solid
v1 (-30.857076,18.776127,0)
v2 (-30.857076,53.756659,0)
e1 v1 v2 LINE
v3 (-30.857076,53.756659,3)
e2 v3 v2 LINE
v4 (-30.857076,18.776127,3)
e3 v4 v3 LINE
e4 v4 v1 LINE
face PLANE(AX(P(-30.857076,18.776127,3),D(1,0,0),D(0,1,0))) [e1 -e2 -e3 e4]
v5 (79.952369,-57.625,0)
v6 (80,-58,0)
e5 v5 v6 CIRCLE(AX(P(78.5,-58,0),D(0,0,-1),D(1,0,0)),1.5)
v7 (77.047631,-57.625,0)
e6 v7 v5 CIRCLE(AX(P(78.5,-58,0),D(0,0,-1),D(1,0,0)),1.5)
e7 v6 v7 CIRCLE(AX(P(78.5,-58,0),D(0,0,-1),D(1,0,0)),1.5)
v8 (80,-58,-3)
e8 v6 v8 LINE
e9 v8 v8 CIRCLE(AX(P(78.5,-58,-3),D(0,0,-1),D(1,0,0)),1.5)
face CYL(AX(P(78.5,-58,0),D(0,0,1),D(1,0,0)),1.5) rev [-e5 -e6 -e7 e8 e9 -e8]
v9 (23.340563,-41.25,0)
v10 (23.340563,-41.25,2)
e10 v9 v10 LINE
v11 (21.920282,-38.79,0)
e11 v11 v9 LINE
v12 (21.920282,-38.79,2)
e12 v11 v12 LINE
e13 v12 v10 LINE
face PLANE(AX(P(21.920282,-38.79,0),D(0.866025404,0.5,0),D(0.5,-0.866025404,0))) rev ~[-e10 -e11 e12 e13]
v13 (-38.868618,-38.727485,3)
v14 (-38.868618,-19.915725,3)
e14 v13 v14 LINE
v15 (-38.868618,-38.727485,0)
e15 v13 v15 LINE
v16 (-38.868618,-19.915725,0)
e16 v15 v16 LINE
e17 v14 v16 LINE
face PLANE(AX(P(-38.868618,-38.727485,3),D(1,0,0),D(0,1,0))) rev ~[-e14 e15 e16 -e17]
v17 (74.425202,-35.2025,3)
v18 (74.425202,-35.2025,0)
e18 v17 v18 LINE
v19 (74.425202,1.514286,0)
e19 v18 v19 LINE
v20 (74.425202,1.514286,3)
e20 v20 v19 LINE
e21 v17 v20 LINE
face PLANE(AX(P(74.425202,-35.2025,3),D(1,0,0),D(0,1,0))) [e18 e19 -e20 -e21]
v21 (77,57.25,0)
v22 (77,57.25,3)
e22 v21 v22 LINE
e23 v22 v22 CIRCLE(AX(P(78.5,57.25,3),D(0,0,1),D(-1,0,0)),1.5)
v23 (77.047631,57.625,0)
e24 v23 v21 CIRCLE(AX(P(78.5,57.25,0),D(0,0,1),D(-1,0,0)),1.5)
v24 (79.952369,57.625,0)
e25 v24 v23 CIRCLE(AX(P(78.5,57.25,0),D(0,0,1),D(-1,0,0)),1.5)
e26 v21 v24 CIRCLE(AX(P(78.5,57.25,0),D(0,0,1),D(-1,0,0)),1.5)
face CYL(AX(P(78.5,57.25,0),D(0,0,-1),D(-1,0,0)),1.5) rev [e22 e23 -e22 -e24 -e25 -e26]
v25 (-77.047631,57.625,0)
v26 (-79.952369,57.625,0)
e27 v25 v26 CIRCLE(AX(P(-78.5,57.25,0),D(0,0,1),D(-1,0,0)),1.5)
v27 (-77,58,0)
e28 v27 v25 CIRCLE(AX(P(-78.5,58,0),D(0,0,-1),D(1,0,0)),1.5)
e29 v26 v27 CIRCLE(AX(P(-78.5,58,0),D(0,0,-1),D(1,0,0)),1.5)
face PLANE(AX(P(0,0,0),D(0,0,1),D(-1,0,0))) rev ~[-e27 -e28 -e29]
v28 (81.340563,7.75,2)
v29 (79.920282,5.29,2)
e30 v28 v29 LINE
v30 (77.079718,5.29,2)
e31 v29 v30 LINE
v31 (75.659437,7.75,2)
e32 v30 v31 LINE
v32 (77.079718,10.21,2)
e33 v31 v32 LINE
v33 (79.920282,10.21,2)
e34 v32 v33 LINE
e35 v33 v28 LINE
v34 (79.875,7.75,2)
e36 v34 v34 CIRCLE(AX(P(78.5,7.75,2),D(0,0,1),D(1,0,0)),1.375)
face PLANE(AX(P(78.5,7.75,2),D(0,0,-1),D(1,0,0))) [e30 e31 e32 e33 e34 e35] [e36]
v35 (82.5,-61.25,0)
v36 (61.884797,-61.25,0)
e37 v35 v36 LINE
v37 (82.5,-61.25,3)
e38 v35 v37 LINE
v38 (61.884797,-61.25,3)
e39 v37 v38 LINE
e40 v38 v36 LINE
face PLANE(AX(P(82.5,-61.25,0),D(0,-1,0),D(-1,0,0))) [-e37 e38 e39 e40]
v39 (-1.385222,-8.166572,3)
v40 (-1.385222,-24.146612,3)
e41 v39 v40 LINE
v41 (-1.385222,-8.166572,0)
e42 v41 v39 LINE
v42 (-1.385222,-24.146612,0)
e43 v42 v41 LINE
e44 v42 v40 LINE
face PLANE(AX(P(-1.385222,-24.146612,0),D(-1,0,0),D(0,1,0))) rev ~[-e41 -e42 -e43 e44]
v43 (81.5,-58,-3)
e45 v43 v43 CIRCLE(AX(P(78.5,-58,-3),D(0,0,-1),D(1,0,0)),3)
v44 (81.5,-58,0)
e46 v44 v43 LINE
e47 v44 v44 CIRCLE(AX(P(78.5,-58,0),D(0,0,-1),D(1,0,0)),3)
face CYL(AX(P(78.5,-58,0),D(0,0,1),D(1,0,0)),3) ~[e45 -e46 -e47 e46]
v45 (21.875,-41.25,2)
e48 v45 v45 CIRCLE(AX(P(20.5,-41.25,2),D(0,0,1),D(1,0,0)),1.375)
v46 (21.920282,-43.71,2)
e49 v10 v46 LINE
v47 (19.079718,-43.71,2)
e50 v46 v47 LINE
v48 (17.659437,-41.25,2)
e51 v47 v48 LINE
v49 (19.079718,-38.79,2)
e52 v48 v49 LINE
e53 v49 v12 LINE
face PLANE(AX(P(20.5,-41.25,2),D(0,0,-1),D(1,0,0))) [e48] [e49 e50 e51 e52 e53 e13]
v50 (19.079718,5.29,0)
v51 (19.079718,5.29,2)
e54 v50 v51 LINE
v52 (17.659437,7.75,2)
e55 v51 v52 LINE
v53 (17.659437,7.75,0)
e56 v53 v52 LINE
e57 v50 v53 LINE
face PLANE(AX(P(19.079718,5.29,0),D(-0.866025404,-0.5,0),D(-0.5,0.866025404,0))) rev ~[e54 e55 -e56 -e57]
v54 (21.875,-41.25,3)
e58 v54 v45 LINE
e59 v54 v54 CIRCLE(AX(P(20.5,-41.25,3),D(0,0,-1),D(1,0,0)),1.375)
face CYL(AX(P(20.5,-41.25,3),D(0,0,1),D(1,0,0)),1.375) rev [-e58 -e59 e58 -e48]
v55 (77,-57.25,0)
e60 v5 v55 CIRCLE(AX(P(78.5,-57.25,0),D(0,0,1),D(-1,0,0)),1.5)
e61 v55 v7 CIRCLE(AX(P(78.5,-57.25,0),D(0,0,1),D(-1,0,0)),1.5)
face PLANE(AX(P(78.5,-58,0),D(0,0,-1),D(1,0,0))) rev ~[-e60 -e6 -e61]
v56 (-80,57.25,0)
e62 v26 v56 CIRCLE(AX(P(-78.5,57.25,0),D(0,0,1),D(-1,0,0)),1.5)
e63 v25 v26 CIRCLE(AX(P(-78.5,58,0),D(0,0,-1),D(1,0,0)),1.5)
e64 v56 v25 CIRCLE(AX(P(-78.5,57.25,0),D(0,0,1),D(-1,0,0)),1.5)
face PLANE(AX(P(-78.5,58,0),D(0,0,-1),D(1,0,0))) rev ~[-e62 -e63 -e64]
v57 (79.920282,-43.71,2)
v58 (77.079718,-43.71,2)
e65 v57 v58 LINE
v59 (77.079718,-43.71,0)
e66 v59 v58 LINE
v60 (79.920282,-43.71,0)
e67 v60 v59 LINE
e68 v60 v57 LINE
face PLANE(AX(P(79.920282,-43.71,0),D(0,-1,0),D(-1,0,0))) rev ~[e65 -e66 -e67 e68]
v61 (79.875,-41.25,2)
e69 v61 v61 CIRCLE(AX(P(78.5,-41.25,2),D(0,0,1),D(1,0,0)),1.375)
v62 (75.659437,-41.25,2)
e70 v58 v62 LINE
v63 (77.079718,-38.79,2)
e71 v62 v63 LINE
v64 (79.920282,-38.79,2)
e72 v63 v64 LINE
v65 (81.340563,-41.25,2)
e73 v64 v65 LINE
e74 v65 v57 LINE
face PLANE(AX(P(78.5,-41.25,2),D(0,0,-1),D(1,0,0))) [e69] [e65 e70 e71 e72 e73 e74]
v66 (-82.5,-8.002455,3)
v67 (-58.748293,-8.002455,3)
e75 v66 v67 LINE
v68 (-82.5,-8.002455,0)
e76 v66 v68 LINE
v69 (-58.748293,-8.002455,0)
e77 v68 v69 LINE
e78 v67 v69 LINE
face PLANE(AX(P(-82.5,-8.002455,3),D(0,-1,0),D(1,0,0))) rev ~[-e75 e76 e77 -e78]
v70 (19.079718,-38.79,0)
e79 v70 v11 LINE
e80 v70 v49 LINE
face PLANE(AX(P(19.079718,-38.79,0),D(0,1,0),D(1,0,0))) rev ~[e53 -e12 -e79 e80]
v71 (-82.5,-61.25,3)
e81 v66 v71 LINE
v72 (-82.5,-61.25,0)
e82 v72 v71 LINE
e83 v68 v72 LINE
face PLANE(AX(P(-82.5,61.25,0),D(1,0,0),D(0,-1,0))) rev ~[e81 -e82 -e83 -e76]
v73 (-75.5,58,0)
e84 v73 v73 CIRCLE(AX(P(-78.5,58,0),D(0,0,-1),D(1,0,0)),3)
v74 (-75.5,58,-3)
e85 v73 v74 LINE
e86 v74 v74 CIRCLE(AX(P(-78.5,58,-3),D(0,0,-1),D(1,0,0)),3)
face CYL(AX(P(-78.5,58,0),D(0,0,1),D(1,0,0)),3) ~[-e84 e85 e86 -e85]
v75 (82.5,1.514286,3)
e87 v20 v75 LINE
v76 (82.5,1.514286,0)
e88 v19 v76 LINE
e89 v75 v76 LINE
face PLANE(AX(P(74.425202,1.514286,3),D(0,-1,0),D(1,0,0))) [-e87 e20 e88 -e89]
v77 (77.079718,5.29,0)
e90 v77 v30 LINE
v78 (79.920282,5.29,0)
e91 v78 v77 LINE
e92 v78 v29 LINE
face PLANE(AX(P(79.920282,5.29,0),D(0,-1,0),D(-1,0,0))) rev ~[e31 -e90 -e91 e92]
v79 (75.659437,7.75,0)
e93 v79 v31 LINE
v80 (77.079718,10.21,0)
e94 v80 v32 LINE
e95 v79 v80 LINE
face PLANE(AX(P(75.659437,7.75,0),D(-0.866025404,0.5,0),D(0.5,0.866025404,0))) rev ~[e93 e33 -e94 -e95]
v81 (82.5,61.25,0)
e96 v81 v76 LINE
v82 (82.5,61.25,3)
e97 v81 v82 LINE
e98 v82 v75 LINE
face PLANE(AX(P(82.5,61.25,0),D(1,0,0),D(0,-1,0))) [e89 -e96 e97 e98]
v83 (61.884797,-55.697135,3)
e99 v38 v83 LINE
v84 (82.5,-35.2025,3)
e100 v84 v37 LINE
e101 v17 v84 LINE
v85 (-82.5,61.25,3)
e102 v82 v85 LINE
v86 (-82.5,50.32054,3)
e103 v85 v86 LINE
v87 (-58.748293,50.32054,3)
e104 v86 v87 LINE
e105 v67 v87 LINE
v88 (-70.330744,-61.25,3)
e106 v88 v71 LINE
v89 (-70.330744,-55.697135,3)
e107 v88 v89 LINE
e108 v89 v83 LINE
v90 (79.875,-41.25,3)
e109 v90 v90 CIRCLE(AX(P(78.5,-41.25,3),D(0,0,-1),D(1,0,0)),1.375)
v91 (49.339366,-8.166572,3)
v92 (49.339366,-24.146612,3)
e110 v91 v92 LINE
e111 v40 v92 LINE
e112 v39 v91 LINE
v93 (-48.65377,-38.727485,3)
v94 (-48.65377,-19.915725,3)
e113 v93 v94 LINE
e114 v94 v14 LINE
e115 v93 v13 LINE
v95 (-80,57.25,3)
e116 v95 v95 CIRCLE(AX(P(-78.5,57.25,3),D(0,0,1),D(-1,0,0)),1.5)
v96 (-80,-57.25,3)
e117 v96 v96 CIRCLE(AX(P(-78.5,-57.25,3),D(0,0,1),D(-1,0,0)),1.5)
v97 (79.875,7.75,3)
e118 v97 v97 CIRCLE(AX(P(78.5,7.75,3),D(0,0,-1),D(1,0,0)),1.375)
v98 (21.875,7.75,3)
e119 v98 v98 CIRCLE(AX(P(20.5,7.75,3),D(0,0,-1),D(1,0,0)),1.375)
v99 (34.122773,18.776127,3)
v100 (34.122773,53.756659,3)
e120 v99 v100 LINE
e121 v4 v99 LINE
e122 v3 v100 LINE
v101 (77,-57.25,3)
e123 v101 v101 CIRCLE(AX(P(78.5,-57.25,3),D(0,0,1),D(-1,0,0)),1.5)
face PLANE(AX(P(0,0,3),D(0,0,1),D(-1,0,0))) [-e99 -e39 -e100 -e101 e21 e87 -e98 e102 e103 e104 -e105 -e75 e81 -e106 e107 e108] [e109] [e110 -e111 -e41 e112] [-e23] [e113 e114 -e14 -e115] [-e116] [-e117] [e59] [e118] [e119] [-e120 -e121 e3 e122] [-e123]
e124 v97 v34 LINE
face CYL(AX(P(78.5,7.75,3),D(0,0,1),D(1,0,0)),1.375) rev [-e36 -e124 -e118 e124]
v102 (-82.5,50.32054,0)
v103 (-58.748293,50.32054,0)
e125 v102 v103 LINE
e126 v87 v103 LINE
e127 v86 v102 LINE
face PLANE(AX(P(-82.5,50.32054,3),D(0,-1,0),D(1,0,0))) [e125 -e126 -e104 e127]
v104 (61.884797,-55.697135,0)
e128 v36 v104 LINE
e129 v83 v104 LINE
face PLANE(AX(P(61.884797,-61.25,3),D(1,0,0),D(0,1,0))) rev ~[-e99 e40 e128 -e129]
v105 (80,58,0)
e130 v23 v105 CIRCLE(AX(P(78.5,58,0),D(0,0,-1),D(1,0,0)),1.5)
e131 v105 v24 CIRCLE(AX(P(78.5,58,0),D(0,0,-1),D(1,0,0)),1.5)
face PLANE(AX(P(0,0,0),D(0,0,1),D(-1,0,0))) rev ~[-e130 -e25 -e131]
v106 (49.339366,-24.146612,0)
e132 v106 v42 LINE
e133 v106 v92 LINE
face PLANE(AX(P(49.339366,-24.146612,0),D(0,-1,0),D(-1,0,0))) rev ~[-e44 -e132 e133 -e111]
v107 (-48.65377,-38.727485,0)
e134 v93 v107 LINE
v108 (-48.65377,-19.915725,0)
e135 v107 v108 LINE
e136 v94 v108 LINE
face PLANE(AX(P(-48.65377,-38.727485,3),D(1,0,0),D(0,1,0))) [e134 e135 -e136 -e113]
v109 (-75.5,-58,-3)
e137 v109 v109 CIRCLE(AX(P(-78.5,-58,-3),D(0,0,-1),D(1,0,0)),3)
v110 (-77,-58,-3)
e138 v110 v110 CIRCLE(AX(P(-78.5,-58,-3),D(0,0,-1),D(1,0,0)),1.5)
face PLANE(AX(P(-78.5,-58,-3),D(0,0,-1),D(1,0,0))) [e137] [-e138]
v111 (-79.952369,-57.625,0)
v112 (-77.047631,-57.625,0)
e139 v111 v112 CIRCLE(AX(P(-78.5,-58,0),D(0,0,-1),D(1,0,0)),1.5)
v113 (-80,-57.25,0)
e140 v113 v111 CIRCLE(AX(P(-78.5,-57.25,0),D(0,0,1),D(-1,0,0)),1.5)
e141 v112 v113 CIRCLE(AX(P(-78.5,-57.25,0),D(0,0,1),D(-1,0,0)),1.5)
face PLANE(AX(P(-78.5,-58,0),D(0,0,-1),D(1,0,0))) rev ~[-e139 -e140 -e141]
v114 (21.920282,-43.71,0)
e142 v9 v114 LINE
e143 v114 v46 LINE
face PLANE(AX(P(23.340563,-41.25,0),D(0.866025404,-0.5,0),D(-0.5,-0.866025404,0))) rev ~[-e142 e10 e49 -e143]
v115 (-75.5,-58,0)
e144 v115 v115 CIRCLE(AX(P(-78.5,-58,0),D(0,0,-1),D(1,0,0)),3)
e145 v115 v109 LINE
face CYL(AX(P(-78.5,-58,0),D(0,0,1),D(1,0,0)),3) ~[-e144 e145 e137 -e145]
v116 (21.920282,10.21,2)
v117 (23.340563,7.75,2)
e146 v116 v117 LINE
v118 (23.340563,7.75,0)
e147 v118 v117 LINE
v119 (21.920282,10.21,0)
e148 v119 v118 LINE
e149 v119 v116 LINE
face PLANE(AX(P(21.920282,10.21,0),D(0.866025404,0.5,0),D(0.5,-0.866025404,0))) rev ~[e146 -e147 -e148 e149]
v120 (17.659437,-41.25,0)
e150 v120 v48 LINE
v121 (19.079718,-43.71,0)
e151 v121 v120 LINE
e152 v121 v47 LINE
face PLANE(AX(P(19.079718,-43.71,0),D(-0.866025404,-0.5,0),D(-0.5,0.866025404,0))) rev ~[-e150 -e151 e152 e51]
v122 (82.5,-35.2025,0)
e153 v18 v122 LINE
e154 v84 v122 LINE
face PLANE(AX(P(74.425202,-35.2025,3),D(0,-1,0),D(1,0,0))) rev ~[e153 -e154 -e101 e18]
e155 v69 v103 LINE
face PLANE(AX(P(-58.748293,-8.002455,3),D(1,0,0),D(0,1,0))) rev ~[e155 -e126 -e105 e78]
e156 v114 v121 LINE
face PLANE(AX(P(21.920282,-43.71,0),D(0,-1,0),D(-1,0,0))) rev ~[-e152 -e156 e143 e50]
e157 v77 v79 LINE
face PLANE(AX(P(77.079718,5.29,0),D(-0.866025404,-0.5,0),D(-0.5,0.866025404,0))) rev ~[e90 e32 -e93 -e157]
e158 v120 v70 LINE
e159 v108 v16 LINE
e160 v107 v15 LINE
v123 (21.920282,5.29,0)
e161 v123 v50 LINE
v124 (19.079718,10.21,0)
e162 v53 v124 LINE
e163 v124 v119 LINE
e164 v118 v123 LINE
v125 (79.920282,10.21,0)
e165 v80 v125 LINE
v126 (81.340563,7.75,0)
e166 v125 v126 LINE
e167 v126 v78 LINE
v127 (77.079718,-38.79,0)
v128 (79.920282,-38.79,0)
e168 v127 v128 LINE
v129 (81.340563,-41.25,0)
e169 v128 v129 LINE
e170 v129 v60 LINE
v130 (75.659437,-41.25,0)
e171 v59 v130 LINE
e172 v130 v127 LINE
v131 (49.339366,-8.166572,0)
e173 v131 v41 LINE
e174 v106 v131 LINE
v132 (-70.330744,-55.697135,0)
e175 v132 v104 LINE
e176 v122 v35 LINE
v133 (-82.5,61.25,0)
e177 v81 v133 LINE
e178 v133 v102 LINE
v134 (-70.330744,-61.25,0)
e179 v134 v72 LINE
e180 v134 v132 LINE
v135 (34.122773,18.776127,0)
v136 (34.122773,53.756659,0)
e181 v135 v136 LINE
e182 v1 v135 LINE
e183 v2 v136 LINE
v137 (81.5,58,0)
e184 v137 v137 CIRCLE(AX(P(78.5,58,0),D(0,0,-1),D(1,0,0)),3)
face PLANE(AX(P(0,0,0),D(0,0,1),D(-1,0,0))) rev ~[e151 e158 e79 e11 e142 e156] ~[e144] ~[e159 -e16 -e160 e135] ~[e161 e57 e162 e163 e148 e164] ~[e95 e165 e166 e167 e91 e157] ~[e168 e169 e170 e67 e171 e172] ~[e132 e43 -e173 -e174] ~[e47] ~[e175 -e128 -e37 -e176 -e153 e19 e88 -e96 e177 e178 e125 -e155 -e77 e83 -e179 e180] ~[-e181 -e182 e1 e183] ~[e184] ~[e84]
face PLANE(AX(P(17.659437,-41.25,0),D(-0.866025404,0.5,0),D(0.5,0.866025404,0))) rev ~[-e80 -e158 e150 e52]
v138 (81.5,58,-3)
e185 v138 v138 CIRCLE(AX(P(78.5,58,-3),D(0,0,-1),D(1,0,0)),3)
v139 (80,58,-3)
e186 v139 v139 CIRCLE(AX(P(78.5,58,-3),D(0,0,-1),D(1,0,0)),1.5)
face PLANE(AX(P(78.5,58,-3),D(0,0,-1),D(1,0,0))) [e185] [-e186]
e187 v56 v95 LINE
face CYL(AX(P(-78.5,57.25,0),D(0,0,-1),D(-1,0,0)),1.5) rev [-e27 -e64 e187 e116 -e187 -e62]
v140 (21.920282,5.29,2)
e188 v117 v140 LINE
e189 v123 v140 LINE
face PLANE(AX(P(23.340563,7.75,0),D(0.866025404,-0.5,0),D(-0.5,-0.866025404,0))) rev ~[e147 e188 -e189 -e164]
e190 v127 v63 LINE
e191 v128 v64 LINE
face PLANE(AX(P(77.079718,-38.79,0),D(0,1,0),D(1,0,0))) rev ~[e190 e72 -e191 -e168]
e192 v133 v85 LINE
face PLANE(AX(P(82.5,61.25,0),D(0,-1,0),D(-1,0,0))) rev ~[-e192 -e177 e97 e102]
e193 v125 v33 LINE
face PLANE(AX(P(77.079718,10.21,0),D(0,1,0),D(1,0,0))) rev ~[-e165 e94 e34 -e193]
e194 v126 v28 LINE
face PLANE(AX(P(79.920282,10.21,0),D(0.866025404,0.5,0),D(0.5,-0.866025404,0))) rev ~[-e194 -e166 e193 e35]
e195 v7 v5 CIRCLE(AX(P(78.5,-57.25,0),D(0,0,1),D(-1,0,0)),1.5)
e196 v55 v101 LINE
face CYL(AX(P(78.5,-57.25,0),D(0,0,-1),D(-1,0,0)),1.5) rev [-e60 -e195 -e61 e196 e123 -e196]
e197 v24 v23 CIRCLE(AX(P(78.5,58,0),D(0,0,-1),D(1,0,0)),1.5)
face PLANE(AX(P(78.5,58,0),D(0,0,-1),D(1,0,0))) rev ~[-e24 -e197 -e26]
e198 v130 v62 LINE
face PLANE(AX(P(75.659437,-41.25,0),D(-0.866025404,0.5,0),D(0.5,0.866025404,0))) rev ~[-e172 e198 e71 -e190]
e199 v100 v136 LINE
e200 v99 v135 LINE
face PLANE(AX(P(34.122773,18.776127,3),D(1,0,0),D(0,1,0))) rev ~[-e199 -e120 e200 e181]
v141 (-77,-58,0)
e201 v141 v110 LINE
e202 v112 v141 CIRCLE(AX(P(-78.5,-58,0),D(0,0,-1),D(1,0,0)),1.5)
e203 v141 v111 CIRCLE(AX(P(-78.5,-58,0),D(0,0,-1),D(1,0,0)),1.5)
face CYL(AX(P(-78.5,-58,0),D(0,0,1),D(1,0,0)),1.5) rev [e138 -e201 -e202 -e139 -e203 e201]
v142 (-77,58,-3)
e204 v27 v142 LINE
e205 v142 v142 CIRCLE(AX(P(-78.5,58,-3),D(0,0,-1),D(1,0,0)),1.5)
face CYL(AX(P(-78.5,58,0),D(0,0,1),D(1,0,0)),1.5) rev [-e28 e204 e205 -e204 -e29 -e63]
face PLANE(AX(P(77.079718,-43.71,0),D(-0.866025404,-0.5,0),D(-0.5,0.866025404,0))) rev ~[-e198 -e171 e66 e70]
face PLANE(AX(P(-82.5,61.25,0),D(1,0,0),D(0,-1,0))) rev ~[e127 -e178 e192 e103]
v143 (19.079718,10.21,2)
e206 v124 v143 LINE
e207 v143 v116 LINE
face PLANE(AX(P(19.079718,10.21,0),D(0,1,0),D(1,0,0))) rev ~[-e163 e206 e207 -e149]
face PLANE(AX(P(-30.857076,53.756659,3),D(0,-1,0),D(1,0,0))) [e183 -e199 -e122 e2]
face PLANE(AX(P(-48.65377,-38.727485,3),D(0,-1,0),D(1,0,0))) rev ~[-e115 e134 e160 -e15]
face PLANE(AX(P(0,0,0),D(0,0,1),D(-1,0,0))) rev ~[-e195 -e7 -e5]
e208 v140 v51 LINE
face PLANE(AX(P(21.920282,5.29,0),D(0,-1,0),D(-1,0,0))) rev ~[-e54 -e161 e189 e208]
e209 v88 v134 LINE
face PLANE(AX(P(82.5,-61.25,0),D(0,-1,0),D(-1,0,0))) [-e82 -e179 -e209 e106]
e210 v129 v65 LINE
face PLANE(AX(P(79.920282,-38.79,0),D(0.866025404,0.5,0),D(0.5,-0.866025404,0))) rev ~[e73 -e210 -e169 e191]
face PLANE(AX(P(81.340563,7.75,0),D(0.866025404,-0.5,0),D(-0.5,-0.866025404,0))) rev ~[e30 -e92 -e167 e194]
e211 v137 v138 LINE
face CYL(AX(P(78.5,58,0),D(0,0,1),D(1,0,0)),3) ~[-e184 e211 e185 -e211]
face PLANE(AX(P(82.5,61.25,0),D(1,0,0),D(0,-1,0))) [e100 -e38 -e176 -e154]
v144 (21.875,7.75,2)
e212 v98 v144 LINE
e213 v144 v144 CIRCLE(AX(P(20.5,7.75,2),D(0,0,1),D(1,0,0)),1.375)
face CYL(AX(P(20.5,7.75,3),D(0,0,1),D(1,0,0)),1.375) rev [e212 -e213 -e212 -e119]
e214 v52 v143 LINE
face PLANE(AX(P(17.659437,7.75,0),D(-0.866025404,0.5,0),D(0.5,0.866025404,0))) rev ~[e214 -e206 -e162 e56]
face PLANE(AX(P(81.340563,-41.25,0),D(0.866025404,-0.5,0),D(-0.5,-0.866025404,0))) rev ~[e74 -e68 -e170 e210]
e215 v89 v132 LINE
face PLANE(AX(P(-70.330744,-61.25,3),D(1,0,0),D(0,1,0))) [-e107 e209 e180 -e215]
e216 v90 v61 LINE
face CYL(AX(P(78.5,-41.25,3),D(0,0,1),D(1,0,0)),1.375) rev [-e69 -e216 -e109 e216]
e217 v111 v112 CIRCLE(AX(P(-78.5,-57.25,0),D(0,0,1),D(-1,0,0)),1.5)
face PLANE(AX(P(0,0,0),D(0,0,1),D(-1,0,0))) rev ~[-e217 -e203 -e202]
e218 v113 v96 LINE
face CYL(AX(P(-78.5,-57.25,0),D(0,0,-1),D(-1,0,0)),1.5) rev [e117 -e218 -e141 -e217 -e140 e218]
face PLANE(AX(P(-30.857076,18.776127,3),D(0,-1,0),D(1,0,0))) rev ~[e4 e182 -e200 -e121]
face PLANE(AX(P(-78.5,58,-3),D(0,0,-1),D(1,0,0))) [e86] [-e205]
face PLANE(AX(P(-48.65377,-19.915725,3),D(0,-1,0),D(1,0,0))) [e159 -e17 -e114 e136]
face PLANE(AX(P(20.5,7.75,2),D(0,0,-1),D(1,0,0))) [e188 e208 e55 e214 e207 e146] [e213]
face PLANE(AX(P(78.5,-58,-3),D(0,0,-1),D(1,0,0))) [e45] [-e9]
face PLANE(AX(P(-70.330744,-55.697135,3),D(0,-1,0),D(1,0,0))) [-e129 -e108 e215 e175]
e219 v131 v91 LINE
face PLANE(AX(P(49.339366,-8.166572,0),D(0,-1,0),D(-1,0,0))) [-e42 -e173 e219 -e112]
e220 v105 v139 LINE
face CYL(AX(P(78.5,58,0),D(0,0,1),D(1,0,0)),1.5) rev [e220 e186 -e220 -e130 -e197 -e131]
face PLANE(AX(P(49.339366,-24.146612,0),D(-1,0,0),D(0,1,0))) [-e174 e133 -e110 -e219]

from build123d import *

# Parameters (mm, degrees)
CROQUIS9_W              = 165
CROQUIS9_H              = 122.5
CROQUIS9_R              = 1.5
SALIENTE_EXTRUIR7_DEPTH = 3
CROQUIS10_R             = 3
CROQUIS10_R_2           = 1.5
SALIENTE_EXTRUIR4_DEPTH = 3
CROQUIS13_R             = 1.375
CORTAR_EXTRUIR6_DEPTH   = 7
CORTAR_EXTRUIR9_DEPTH   = 2
CROQUIS19_W             = 23.751706854
CROQUIS19_H             = 58.322995046
CORTAR_EXTRUIR11_DEPTH  = 7
CROQUIS20_W             = 8.074798139
CROQUIS20_H             = 36.716786424
CORTAR_EXTRUIR12_DEPTH  = 7
CROQUIS21_W             = 132.215541909
CROQUIS21_H             = 5.552865293
CORTAR_EXTRUIR13_DEPTH  = 7
CROQUIS22_W             = 64.97984938
CROQUIS22_H             = 34.980531845
CORTAR_EXTRUIR14_DEPTH  = 10
CROQUIS23_W             = 9.785151637
CROQUIS23_H             = 18.811760375
CORTAR_EXTRUIR15_DEPTH  = 7
CROQUIS24_W             = 50.724588702
CROQUIS24_H             = 15.98003992
CORTAR_EXTRUIR16_DEPTH  = 10


with BuildPart() as part:
    # Croquis9 → Saliente-Extruir7 (new body)
    with BuildSketch(Plane(origin=(0, -39.711212197, 0), x_dir=(-1, 0, 0), z_dir=(0, 0, 1))):
        with Locations((0, -39.711212197)):
            Rectangle(CROQUIS9_W, CROQUIS9_H)
        with Locations((-78.5, 17.538787803)):
            Circle(CROQUIS9_R, mode=Mode.SUBTRACT)
        with Locations((78.5, 17.538787803)):
            Circle(CROQUIS9_R, mode=Mode.SUBTRACT)
        with Locations((-78.5, -96.961212197)):
            Circle(CROQUIS9_R, mode=Mode.SUBTRACT)
        with Locations((78.5, -96.961212197)):
            Circle(CROQUIS9_R, mode=Mode.SUBTRACT)
    extrude(amount=SALIENTE_EXTRUIR7_DEPTH)

    # Croquis10 → Saliente-Extruir4 (add)
    with BuildSketch(Plane(origin=(0, -39.711212197, 0), x_dir=(1, 0, 0), z_dir=(0, 0, -1))):
        with Locations((-78.5, 18.288787803)):
            Circle(CROQUIS10_R)
        with Locations((-78.5, 18.288787803)):
            Circle(CROQUIS10_R_2, mode=Mode.SUBTRACT)
        with Locations((78.5, 18.288787803)):
            Circle(CROQUIS10_R)
        with Locations((78.5, 18.288787803)):
            Circle(CROQUIS10_R_2, mode=Mode.SUBTRACT)
        with Locations((78.5, -97.711212197)):
            Circle(CROQUIS10_R)
        with Locations((78.5, -97.711212197)):
            Circle(CROQUIS10_R_2, mode=Mode.SUBTRACT)
        with Locations((-78.5, -97.711212197)):
            Circle(CROQUIS10_R)
        with Locations((-78.5, -97.711212197)):
            Circle(CROQUIS10_R_2, mode=Mode.SUBTRACT)
    extrude(amount=SALIENTE_EXTRUIR4_DEPTH)

    # Croquis13 → Cortar-Extruir6 (cut, through all)
    with BuildSketch(Plane(origin=(0, -58.652466741, 3), x_dir=(1, 0, 0), z_dir=(0, 0, -1))):
        with Locations((20.5, -17.402466741)):
            Circle(CROQUIS13_R)
        with Locations((78.5, -17.402466741)):
            Circle(CROQUIS13_R)
        with Locations((20.5, -66.402466741)):
            Circle(CROQUIS13_R)
        with Locations((78.5, -66.402466741)):
            Circle(CROQUIS13_R)
    extrude(amount=CORTAR_EXTRUIR6_DEPTH, mode=Mode.SUBTRACT)

    # Croquis17 → Cortar-Extruir9 (cut)
    with BuildSketch(Plane(origin=(0, -39.711212197, 0), x_dir=(1, 0, 0), z_dir=(0, 0, -1))):
        Polygon((23.340563324, 1.538787803), (21.920281662, 3.998787803), (19.079718338, 3.998787803), (17.659436676, 1.538787803), (19.079718338, -0.921212197), (21.920281662, -0.921212197), align=None)
        Polygon((81.340563324, 1.538787803), (79.920281662, 3.998787803), (77.079718338, 3.998787803), (75.659436676, 1.538787803), (77.079718338, -0.921212197), (79.920281662, -0.921212197), align=None)
        Polygon((81.340563324, -47.461212197), (79.920281662, -45.001212197), (77.079718338, -45.001212197), (75.659436676, -47.461212197), (77.079718338, -49.921212197), (79.920281662, -49.921212197), align=None)
        Polygon((23.340563324, -47.461212197), (21.920281662, -45.001212197), (19.079718338, -45.001212197), (17.659436676, -47.461212197), (19.079718338, -49.921212197), (21.920281662, -49.921212197), align=None)
    extrude(amount=-CORTAR_EXTRUIR9_DEPTH, mode=Mode.SUBTRACT)

    # Croquis19 → Cortar-Extruir11 (cut, through all)
    with BuildSketch(Plane.XY.offset(3)):
        with Locations((-70.624146573, 21.159042343)):
            Rectangle(CROQUIS19_W, CROQUIS19_H)
    extrude(amount=-CORTAR_EXTRUIR11_DEPTH, mode=Mode.SUBTRACT)

    # Croquis20 → Cortar-Extruir12 (cut, through all)
    with BuildSketch(Plane.XY.offset(3)):
        with Locations((78.462600931, -16.844106748)):
            Rectangle(CROQUIS20_W, CROQUIS20_H)
    extrude(amount=-CORTAR_EXTRUIR12_DEPTH, mode=Mode.SUBTRACT)

    # Croquis21 → Cortar-Extruir13 (cut, through all)
    with BuildSketch(Plane.XY.offset(3)):
        with Locations((-4.222973471, -58.473567354)):
            Rectangle(CROQUIS21_W, CROQUIS21_H)
    extrude(amount=-CORTAR_EXTRUIR13_DEPTH, mode=Mode.SUBTRACT)

    # Croquis22 → Cortar-Extruir14 (cut)
    with BuildSketch(Plane.XY.offset(3)):
        with Locations((1.632848722, 36.266393101)):
            Rectangle(CROQUIS22_W, CROQUIS22_H)
    extrude(amount=-CORTAR_EXTRUIR14_DEPTH, mode=Mode.SUBTRACT)

    # Croquis23 → Cortar-Extruir15 (cut, through all)
    with BuildSketch(Plane.XY.offset(3)):
        with Locations((-43.761194105, -29.321605041)):
            Rectangle(CROQUIS23_W, CROQUIS23_H)
    extrude(amount=-CORTAR_EXTRUIR15_DEPTH, mode=Mode.SUBTRACT)

    # Croquis24 → Cortar-Extruir16 (cut)
    with BuildSketch(Plane(origin=(0, 0, 0), x_dir=(-1, 0, 0), z_dir=(0, 0, -1))):
        with Locations((-23.977071959, -16.156592187)):
            Rectangle(CROQUIS24_W, CROQUIS24_H)
    extrude(amount=-CORTAR_EXTRUIR16_DEPTH, mode=Mode.SUBTRACT)


solid = part.part
